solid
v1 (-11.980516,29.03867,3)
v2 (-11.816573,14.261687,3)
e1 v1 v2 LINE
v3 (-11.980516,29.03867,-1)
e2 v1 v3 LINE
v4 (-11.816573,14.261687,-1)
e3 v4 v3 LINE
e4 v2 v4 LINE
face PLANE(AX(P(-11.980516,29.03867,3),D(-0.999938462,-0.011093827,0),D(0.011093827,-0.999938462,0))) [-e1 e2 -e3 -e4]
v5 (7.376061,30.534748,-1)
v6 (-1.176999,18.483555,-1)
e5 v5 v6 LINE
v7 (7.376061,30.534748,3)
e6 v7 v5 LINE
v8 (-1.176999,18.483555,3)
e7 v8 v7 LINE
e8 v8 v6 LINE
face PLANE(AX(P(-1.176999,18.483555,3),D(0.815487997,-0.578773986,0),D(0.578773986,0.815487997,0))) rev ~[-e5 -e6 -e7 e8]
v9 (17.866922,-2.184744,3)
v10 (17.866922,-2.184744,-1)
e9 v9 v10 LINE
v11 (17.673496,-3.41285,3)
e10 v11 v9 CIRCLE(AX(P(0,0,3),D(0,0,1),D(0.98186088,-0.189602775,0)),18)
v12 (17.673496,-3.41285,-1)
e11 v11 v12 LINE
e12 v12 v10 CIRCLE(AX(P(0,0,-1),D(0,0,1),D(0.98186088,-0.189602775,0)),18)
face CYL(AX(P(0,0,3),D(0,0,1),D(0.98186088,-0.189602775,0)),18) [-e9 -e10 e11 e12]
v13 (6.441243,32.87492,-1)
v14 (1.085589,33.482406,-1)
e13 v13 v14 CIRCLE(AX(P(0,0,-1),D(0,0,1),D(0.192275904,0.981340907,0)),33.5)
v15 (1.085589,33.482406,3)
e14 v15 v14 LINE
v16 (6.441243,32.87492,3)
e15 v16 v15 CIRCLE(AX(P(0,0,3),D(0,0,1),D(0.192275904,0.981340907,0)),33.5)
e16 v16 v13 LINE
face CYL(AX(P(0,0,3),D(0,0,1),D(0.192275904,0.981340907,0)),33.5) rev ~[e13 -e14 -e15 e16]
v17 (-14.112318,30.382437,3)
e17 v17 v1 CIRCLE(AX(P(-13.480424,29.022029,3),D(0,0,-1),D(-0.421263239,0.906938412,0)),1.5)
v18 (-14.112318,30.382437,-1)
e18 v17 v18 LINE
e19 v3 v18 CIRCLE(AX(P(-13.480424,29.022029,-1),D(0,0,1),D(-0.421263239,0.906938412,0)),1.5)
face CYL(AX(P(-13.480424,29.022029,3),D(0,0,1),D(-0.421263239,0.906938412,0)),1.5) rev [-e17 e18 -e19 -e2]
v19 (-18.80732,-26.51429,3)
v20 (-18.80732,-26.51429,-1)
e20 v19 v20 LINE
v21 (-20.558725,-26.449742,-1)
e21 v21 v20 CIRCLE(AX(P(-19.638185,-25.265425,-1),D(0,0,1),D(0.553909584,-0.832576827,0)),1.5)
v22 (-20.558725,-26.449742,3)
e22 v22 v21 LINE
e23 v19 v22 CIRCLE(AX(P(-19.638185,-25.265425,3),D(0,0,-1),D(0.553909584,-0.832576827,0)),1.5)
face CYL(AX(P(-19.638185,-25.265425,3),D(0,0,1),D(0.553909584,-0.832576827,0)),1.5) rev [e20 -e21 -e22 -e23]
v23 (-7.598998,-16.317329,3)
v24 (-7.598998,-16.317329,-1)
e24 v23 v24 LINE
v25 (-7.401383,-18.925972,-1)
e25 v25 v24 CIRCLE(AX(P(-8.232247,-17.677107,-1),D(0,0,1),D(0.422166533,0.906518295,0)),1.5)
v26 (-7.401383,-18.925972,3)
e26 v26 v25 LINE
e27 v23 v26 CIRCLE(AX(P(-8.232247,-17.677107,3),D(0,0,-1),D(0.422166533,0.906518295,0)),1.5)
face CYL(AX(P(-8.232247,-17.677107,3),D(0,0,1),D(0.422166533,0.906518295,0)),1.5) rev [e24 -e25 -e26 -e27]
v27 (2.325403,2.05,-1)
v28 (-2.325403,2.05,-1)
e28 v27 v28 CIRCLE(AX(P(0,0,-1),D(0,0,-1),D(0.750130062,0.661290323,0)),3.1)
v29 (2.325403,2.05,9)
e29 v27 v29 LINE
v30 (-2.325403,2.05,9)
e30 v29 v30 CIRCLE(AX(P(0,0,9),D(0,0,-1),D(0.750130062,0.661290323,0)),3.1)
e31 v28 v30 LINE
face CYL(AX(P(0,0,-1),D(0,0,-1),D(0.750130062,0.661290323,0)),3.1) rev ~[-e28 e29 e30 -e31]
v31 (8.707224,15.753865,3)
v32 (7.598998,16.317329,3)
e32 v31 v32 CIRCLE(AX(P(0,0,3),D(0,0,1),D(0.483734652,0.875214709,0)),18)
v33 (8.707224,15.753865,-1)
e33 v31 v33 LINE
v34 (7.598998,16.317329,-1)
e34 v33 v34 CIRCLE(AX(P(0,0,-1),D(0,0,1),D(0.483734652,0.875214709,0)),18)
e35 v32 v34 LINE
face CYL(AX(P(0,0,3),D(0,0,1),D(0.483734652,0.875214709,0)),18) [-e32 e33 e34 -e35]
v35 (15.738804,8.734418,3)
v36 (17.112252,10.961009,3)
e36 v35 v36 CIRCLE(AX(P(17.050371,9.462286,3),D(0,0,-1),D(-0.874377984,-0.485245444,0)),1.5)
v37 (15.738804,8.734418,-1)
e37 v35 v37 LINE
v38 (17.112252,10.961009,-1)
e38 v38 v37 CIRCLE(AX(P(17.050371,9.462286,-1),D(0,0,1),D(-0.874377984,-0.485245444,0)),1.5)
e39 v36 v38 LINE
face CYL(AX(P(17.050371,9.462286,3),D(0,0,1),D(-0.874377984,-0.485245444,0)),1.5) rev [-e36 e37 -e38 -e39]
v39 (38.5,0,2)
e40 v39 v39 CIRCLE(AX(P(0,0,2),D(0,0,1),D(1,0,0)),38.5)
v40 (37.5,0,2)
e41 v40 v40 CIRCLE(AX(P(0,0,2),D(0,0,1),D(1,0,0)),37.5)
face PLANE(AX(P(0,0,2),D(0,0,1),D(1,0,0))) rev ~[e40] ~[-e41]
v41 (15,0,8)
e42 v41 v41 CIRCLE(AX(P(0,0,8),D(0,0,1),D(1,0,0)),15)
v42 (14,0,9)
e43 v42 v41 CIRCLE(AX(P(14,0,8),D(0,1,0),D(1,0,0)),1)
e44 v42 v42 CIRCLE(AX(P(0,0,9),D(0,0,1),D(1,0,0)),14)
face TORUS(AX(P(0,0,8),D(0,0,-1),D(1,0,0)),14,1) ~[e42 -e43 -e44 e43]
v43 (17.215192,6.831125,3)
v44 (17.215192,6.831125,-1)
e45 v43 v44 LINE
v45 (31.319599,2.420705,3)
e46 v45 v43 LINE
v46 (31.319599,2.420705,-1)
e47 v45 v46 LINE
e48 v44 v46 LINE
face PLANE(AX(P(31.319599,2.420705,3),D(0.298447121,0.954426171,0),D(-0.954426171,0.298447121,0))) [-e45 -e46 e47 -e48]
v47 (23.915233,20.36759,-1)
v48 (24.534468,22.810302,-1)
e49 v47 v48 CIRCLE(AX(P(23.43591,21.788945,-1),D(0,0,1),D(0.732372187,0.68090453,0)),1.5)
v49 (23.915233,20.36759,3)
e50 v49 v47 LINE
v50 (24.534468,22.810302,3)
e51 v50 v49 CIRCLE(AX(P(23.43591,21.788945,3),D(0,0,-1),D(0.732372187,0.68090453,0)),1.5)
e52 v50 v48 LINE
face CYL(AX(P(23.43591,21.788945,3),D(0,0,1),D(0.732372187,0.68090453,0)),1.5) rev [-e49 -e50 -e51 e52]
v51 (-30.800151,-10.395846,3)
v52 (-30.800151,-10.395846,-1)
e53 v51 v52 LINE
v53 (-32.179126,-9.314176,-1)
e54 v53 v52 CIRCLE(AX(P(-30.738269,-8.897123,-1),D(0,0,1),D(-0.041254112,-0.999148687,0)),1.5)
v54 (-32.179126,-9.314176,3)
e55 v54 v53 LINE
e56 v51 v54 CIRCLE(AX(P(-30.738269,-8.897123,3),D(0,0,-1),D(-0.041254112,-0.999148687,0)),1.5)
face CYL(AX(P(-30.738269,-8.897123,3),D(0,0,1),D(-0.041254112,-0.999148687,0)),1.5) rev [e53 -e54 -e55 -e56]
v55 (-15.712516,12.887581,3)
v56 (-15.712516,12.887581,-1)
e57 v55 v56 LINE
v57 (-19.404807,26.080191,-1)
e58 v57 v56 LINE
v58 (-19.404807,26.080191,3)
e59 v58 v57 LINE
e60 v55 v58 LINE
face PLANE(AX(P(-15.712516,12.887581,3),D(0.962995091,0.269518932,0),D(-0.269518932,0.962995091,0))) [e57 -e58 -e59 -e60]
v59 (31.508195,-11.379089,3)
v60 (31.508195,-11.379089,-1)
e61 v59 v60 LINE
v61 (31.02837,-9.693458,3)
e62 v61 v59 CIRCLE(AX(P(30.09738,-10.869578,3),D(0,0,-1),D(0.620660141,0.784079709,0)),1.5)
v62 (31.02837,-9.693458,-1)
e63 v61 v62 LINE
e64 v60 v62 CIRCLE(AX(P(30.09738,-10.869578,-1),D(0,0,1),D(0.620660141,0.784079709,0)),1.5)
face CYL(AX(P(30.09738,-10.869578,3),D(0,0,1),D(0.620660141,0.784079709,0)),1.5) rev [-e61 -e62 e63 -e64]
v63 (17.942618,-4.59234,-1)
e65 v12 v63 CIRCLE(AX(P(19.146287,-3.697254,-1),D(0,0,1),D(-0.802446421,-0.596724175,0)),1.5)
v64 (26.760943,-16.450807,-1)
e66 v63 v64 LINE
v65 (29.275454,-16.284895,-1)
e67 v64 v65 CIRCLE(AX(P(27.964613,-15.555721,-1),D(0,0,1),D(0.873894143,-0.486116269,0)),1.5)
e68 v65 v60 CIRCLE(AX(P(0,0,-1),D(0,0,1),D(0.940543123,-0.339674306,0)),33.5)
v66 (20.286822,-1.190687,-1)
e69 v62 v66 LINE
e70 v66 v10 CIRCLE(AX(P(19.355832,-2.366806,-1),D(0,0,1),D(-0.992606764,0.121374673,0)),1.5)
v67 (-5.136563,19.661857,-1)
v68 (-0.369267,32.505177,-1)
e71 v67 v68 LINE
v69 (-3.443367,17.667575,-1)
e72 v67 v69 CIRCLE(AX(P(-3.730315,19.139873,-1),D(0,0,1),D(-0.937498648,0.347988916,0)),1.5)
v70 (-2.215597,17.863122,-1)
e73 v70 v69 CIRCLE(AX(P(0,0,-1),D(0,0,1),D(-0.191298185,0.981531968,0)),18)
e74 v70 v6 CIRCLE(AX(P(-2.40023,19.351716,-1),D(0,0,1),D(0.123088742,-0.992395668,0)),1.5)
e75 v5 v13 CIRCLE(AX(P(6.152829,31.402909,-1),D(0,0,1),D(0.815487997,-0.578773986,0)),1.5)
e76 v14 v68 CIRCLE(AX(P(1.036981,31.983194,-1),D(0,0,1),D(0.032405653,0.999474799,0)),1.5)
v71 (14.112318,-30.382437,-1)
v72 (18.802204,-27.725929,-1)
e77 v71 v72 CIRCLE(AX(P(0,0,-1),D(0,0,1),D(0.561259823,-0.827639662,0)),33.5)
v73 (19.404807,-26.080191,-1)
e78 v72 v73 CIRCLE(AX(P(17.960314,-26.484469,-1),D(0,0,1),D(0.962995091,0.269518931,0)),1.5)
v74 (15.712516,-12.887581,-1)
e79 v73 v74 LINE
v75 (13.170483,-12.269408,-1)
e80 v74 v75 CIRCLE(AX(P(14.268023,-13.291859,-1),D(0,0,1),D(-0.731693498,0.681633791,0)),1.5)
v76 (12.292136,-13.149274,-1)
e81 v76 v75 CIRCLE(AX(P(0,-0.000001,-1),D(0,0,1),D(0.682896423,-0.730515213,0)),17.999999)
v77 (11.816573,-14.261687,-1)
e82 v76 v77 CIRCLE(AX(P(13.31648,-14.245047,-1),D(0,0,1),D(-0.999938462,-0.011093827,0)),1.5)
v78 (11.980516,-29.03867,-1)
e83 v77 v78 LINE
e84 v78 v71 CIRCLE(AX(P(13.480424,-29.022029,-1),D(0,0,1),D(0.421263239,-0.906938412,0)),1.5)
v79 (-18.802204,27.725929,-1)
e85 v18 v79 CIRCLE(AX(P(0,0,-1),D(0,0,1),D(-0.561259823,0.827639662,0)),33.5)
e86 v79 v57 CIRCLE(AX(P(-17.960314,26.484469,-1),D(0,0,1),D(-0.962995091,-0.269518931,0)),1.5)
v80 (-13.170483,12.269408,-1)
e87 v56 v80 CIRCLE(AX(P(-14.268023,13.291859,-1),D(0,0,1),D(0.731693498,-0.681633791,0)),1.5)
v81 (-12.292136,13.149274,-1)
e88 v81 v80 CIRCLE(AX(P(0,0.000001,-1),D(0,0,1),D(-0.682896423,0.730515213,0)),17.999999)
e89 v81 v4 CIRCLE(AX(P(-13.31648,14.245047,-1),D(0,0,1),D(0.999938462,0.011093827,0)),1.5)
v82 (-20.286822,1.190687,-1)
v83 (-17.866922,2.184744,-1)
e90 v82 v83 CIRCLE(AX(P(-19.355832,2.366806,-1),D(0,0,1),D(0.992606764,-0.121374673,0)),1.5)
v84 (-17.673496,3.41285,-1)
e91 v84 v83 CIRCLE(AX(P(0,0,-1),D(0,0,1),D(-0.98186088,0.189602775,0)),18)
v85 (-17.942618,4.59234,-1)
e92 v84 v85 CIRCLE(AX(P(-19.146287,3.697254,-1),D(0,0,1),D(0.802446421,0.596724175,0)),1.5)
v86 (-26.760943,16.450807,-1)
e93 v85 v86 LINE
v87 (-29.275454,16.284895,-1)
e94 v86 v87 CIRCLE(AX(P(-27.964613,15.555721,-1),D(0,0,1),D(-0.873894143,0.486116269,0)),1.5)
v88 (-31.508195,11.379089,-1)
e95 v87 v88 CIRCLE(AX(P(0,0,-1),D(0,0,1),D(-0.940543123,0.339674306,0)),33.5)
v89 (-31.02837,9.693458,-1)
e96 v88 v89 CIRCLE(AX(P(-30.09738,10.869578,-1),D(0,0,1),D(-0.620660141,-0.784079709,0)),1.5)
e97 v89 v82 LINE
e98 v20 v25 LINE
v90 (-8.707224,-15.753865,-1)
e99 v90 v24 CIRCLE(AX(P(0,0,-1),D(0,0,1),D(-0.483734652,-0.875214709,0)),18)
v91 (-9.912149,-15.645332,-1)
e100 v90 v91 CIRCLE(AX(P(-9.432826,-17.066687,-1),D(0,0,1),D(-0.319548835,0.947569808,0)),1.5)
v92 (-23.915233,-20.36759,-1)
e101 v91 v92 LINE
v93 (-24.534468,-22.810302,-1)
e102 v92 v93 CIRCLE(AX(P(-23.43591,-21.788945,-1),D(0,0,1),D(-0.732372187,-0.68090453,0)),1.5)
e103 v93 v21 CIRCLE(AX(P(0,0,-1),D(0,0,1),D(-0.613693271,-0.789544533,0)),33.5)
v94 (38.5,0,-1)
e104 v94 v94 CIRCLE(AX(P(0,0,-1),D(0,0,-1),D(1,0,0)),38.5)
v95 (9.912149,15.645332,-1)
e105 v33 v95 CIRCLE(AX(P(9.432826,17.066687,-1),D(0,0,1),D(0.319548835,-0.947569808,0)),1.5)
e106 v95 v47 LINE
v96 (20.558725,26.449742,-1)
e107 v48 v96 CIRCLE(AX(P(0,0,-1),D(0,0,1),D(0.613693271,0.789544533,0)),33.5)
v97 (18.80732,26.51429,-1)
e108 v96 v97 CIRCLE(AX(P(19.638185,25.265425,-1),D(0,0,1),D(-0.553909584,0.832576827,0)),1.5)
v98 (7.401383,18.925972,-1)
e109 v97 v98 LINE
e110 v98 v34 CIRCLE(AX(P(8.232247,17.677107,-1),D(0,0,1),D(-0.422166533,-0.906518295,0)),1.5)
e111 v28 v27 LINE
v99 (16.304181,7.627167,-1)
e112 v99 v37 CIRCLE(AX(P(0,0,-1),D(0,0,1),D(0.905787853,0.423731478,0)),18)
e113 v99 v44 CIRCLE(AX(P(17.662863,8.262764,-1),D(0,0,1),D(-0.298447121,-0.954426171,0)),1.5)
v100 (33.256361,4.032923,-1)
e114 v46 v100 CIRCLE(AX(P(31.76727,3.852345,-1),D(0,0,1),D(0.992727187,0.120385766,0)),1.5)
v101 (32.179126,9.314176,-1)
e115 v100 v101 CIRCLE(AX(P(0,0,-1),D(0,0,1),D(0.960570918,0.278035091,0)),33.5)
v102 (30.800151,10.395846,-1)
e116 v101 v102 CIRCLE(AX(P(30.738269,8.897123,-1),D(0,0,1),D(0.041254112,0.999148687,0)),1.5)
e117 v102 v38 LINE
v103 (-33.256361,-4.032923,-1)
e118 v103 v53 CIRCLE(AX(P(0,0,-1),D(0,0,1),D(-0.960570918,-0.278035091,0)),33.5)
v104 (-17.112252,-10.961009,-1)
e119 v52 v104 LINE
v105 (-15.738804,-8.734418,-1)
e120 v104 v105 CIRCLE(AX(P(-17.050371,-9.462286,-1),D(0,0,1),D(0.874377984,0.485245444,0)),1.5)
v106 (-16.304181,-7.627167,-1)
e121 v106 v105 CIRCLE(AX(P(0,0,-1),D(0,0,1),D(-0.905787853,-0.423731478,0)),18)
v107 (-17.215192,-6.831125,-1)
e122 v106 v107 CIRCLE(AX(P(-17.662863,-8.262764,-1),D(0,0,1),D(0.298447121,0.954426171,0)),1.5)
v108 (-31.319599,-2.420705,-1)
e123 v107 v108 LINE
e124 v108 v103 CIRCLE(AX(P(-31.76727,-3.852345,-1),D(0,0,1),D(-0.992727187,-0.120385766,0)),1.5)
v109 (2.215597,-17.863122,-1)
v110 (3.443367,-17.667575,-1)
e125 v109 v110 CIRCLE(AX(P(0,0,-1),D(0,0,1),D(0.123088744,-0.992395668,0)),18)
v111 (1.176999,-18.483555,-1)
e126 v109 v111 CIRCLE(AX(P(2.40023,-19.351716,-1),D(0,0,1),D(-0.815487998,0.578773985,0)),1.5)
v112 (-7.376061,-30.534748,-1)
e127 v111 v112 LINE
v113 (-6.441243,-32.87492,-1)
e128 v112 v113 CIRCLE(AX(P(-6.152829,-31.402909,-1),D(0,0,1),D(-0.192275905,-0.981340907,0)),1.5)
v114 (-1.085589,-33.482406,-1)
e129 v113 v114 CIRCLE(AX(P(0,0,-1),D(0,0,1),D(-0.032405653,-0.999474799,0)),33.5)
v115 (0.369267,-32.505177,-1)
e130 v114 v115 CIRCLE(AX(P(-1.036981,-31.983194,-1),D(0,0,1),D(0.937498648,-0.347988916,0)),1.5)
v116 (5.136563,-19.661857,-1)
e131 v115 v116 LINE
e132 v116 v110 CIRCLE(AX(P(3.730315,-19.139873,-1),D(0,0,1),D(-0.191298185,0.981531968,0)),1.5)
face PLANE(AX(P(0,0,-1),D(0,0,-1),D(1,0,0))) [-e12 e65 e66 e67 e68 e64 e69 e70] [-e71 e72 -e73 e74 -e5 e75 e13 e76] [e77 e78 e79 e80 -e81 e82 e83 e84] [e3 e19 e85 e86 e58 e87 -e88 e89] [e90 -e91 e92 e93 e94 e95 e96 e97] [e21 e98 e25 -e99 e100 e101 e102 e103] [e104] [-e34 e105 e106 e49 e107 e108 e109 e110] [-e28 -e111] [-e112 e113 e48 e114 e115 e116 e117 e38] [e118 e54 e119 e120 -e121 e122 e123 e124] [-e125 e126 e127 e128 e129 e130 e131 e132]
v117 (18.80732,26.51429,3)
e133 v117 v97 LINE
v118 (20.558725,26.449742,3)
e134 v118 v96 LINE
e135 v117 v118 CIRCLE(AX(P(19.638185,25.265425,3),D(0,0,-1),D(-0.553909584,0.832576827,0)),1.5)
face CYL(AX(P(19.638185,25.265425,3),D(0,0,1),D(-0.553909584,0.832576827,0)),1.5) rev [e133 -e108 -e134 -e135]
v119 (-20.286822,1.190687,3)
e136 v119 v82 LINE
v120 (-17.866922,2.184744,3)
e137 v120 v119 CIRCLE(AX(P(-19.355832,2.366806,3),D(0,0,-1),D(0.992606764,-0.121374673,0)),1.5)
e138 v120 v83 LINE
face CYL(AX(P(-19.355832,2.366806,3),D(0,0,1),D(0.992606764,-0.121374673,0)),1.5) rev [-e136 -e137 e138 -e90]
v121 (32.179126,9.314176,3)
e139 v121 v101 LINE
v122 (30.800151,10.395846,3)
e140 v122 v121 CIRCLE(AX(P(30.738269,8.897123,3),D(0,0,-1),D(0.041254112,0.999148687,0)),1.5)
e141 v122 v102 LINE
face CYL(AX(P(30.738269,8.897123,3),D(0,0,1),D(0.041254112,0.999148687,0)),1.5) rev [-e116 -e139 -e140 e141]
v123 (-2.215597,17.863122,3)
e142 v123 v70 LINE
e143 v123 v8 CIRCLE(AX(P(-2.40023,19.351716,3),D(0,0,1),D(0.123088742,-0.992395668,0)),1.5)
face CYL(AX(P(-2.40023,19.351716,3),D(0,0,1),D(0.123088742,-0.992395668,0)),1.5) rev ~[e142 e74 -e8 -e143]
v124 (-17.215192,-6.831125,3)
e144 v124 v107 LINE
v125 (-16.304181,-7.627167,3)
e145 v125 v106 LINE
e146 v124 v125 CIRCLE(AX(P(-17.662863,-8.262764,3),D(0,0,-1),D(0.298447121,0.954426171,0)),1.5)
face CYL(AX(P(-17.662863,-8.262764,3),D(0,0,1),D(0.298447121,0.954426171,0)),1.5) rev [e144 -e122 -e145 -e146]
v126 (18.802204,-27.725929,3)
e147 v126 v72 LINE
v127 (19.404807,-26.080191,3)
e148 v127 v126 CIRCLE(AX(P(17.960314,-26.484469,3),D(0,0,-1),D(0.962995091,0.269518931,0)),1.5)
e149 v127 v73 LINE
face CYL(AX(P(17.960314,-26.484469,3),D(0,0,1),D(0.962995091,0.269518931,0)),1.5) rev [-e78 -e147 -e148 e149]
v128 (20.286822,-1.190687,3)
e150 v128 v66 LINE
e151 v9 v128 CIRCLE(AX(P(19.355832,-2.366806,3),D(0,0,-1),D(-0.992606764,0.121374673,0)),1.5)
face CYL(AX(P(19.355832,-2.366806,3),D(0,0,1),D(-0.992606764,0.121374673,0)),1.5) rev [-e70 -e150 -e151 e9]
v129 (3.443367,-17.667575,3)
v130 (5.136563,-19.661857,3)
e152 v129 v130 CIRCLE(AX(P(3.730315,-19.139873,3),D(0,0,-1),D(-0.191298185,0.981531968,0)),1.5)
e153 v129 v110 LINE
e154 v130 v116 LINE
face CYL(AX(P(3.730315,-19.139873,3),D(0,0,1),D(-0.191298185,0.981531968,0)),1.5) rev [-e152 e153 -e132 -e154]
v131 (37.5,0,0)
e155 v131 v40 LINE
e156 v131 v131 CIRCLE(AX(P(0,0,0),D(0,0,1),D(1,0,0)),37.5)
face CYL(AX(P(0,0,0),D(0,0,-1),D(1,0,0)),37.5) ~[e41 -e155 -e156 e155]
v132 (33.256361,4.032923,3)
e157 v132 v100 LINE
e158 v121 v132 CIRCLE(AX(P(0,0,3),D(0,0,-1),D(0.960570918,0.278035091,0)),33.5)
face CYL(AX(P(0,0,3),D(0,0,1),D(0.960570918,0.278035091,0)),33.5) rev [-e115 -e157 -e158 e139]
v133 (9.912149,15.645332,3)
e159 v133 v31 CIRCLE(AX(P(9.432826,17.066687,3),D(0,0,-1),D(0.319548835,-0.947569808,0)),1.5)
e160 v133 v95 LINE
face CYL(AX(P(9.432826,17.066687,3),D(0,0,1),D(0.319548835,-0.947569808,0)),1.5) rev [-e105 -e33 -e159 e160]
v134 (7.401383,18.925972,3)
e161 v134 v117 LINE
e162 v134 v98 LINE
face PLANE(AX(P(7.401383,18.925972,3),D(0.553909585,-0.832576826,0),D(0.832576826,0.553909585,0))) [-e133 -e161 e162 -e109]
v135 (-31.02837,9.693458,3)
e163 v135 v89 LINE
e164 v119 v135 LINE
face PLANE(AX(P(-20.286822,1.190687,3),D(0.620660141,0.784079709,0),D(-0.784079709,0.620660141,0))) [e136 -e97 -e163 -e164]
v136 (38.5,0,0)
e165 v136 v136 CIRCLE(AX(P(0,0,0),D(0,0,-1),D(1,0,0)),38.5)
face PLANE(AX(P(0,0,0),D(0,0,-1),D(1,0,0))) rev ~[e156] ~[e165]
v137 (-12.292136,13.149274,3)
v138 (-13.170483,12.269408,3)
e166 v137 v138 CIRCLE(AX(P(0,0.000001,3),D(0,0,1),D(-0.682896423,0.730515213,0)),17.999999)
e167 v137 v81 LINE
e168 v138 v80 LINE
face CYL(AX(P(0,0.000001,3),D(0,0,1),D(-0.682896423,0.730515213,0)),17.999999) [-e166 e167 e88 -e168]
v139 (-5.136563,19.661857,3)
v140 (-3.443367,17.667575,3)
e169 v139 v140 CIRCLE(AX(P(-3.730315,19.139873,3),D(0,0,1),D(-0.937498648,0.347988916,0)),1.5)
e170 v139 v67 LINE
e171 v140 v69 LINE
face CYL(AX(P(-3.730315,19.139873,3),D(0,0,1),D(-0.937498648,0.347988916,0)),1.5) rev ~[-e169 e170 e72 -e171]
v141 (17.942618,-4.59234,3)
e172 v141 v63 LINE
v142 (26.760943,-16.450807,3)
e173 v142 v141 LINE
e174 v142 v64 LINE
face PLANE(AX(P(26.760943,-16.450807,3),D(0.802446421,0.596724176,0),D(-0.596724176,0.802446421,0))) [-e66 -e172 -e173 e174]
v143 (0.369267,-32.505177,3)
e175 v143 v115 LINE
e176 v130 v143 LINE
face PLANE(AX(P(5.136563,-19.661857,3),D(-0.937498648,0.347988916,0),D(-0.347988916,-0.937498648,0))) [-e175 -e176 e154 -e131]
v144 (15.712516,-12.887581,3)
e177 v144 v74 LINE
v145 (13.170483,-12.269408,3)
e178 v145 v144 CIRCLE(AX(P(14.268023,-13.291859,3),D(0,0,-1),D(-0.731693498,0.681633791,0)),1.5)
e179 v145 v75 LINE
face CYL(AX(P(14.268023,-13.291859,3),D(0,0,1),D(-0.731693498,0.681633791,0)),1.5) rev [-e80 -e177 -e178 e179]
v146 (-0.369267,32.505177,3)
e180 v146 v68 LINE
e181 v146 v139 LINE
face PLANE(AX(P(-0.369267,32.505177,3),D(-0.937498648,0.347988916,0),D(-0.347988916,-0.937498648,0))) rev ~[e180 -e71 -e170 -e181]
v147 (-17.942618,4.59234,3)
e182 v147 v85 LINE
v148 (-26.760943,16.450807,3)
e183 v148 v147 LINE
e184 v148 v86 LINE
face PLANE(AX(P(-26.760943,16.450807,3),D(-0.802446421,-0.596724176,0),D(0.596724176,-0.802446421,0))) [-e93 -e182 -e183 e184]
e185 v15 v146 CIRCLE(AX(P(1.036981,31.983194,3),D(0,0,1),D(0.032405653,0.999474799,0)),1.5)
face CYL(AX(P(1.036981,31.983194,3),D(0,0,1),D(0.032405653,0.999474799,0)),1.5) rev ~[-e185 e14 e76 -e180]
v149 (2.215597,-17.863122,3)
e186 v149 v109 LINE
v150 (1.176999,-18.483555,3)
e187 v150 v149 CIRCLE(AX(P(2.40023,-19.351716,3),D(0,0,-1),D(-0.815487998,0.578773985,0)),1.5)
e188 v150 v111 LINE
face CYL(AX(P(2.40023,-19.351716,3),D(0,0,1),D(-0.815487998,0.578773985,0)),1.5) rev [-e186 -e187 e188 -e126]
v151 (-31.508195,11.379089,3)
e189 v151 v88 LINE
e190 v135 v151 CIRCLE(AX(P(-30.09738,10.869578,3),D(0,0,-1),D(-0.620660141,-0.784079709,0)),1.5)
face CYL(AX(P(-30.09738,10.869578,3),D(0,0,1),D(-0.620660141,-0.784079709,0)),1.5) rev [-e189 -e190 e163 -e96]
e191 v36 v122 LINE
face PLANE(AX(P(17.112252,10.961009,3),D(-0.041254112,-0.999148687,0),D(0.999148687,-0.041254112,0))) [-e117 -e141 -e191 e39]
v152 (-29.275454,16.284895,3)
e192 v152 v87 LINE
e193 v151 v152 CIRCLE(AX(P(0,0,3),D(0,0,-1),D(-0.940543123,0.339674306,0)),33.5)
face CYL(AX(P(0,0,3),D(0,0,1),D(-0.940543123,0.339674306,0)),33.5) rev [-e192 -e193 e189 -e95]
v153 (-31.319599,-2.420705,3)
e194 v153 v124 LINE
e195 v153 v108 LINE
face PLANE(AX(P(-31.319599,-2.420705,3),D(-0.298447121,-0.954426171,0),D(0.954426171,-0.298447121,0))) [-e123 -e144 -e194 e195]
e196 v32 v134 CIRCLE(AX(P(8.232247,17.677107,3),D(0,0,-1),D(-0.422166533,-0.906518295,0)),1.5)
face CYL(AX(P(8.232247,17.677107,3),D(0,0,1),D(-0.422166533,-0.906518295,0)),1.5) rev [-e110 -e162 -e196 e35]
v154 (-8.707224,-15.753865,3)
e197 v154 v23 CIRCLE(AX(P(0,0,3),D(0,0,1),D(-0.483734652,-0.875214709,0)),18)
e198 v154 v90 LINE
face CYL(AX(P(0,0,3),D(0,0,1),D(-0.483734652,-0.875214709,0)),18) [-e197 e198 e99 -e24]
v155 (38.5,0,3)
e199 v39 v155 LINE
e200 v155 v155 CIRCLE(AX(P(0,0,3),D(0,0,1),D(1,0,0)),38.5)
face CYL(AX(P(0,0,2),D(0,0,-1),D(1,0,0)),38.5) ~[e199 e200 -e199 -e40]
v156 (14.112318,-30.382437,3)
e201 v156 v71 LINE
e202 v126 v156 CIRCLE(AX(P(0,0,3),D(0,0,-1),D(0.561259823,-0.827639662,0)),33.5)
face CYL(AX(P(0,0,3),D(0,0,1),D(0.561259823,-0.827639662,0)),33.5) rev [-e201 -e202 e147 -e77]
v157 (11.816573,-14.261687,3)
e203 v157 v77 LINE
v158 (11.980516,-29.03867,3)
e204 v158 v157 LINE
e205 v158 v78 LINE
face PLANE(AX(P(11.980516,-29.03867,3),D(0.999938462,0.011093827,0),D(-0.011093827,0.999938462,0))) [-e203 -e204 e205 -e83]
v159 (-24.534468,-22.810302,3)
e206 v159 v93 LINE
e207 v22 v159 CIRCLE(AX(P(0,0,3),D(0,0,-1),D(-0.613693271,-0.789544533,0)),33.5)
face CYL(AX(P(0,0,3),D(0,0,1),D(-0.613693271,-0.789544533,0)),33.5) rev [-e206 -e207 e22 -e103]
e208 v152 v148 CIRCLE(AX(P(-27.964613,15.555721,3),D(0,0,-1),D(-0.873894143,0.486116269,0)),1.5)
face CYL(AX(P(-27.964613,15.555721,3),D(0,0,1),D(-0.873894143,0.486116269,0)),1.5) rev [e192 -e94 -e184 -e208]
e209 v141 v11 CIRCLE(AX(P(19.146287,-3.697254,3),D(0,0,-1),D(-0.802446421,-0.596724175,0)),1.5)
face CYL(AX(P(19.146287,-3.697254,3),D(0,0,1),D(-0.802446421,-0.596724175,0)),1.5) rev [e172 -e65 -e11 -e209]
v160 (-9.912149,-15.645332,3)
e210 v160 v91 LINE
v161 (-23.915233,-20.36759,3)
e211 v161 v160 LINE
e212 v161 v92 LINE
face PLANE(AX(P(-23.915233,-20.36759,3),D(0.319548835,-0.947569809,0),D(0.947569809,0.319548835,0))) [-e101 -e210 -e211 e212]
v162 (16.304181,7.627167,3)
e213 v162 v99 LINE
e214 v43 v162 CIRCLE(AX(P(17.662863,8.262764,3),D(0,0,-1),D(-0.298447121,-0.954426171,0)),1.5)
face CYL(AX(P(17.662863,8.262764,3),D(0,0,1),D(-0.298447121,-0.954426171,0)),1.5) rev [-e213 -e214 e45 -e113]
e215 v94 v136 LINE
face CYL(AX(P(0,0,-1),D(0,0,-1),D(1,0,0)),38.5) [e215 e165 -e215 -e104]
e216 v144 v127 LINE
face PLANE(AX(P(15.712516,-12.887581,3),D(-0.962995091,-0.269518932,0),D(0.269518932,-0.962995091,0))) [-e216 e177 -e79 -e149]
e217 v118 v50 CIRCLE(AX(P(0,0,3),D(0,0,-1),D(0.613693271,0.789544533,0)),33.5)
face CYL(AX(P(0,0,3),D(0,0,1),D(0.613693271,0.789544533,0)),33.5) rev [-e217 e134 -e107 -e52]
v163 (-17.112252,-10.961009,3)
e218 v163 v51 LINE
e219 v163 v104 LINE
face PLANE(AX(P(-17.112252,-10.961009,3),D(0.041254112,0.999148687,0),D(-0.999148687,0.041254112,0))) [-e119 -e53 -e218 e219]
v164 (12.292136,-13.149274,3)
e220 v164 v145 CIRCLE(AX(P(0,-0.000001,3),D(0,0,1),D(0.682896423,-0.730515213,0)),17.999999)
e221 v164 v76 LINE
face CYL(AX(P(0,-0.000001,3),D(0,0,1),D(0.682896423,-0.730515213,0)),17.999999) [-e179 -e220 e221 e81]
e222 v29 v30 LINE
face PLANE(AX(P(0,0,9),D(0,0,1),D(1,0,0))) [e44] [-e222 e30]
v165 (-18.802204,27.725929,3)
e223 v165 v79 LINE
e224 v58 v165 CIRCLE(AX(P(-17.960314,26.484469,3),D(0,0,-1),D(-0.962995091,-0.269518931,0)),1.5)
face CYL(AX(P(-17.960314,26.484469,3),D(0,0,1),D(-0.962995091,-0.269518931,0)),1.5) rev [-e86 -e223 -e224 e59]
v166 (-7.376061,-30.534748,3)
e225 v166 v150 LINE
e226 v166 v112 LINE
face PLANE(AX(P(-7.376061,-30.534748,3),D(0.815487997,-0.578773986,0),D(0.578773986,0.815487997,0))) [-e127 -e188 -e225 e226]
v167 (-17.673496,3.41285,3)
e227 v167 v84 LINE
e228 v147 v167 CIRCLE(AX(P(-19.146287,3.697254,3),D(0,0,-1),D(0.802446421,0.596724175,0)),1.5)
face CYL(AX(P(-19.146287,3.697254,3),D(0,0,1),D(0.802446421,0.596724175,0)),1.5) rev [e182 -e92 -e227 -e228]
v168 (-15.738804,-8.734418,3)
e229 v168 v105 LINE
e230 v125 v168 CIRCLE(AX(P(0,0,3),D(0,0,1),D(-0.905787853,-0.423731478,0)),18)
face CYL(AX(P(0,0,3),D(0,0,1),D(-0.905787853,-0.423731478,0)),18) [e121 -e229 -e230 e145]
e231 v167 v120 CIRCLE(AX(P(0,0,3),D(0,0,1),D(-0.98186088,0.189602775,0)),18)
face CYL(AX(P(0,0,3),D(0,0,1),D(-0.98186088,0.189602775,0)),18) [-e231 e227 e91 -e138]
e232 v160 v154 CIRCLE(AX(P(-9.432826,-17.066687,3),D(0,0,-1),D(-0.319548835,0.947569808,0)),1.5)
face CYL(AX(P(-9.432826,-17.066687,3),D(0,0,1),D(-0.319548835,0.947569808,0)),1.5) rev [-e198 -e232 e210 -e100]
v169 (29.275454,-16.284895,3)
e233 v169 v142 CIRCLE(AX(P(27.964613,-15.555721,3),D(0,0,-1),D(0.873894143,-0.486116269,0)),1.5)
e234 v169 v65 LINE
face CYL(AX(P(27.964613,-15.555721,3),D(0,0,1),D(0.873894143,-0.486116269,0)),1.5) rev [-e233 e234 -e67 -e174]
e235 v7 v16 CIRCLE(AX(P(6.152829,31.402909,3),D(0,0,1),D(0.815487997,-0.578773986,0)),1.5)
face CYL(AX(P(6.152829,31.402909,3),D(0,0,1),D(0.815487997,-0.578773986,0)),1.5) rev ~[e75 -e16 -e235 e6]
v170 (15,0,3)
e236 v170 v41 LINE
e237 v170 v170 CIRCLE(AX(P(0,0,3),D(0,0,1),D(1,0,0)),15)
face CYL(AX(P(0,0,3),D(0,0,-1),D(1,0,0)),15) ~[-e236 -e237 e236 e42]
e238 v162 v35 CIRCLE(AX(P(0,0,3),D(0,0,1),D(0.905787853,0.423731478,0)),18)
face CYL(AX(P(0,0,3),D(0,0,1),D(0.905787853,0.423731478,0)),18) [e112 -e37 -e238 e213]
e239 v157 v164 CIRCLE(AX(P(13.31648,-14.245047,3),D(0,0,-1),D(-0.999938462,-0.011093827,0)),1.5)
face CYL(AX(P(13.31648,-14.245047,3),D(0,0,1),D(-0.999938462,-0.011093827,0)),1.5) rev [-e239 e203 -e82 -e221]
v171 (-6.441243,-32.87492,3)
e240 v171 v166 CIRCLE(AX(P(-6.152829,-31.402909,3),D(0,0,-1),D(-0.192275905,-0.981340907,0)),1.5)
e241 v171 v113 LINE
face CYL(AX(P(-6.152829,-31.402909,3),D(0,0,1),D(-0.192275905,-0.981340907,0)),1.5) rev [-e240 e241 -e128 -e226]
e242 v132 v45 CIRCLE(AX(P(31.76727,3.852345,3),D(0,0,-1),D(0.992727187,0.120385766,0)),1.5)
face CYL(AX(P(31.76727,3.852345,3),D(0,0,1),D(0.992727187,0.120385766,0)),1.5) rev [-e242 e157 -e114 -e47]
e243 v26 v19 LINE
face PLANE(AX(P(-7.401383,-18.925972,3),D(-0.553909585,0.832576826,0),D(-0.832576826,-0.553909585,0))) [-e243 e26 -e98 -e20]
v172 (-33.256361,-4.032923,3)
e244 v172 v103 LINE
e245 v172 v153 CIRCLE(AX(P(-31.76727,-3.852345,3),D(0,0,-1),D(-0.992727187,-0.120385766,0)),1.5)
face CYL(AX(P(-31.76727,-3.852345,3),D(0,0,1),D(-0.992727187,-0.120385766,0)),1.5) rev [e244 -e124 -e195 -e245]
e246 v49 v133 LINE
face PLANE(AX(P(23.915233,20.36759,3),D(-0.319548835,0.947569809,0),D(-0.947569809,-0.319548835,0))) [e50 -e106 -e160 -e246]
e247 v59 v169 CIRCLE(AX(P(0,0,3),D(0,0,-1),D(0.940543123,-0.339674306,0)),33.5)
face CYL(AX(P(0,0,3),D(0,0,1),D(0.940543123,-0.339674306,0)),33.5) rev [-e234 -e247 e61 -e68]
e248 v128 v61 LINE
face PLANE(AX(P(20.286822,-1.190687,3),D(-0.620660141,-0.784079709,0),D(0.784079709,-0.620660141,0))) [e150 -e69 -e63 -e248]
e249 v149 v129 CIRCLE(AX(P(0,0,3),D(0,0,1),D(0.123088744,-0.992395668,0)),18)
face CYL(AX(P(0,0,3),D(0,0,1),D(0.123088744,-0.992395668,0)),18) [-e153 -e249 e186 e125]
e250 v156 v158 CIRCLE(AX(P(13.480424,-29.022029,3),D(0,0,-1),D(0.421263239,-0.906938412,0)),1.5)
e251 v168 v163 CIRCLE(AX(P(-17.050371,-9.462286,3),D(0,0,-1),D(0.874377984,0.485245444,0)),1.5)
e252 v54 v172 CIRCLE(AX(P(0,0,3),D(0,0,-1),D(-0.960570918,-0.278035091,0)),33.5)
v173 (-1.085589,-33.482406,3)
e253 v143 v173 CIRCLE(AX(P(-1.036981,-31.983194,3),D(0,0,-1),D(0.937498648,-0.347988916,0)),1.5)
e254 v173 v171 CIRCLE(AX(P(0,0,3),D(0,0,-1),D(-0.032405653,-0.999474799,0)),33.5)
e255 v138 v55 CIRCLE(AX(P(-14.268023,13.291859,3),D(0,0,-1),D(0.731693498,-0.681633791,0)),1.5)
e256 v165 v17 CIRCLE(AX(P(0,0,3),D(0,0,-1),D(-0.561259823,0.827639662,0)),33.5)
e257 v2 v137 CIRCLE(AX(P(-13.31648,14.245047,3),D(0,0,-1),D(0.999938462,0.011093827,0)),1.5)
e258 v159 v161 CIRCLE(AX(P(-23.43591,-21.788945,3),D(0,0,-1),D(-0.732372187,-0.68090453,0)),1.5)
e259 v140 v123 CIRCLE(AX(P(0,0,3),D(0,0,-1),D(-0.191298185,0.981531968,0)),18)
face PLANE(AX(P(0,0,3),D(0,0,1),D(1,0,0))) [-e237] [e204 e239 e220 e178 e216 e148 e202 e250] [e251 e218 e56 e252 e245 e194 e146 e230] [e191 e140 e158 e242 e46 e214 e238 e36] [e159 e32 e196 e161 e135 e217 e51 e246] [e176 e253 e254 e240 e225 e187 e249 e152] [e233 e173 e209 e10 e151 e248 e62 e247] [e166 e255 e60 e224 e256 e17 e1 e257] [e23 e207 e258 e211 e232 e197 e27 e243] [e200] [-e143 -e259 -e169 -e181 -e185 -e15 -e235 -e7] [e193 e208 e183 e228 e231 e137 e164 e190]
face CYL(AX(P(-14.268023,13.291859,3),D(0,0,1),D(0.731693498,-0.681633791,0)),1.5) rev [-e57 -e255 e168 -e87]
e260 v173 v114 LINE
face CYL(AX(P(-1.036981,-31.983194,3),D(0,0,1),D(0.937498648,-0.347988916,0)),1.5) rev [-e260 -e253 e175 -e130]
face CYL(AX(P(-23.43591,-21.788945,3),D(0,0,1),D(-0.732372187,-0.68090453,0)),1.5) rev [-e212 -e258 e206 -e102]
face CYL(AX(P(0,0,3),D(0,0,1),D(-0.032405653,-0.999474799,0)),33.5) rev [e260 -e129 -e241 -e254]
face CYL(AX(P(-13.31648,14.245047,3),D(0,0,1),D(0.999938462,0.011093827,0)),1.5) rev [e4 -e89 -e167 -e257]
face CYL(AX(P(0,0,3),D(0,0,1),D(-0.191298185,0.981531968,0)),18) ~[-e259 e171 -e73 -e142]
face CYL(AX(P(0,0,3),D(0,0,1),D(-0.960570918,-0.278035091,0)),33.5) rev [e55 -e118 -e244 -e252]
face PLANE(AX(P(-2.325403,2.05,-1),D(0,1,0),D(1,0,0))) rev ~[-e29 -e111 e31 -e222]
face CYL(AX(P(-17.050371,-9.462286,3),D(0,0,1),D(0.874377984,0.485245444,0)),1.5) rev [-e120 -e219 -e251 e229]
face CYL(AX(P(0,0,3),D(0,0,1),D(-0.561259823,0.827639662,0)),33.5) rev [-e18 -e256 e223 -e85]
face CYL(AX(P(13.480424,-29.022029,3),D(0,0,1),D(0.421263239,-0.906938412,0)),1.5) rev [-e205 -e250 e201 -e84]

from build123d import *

# Parameters (mm, degrees)
SKETCH_1_R          = 37.5
EXTRUDE_2_DEPTH     = 2
SKETCH_2_R          = 38.5
EXTRUDE_3_DEPTH     = 1
EXTRUDE_START       = 1
SKETCH_3_R          = 38.5
EXTRUDE_4_DEPTH     = 1
SKETCH_6_R          = 15
EXTRUDE_6_DEPTH     = 6
CUT_EXTRUDE_4_DEPTH = 56.357926262
CUT_EXTRUDE_5_DEPTH = 55.776819915
FILLET_1_R          = 1


with BuildPart() as part:
    # Эскиз1 → Бобышка-Вытянуть2 (new body)
    with BuildSketch(Plane.XY):
        Circle(SKETCH_1_R)
    extrude(amount=EXTRUDE_2_DEPTH)

    # Эскиз2 → Бобышка-Вытянуть3 (add)
    with BuildSketch(Plane.XY.offset(2)):
        Circle(SKETCH_2_R)
    extrude(amount=EXTRUDE_3_DEPTH)

    # Эскиз3 → Бобышка-Вытянуть4 (add)
    with BuildSketch(Plane(origin=(0, 0, 0), x_dir=(-1, 0, 0), z_dir=(0, 0, -1)).offset(EXTRUDE_START)):
        with Locations(Location((0, 0, 0), (0, 0, 180))):
            Circle(SKETCH_3_R)
    extrude(amount=-EXTRUDE_4_DEPTH)

    # Эскиз6 → Бобышка-Вытянуть6 (add)
    with BuildSketch(Plane.XY.offset(3)):
        Circle(SKETCH_6_R)
    extrude(amount=EXTRUDE_6_DEPTH)

    # Эскиз4 → Вырез-Вытянуть4 (cut, through all)
    with BuildSketch(Plane(origin=(0, 0, -1), x_dir=(-1, 0, 0), z_dir=(0, 0, -1))):
        with BuildLine():
            Line((2.325403191, 2.05), (-2.325403191, 2.05))
            ThreePointArc((-2.325403191, 2.05), (0, -3.1), (2.325403191, 2.05))
        make_face()
    extrude(amount=-CUT_EXTRUDE_4_DEPTH, mode=Mode.SUBTRACT)

    # Эскиз7 → Вырез-Вытянуть5 (cut, through all)
    with BuildSketch(Plane.XY.offset(3)):
        with BuildLine():
            Line((-1.176998505, 18.48355454), (7.376060937, 30.534748058))
            ThreePointArc((7.376060937, 30.534748058), (7.545800564, 31.959353158), (6.441242798, 32.874920399))
            ThreePointArc((6.441242798, 32.874920399), (3.775653612, 33.286550434), (1.085589359, 33.482405764))
            ThreePointArc((1.085589359, 33.482405764), (0.200595627, 33.228368135), (-0.369267091, 32.50517694))
            Line((-0.369267091, 32.50517694), (-5.136562579, 19.661856752))
            ThreePointArc((-5.136562579, 19.661856752), (-4.873773401, 18.169047963), (-3.44336733, 17.667575426))
            ThreePointArc((-3.44336733, 17.667575426), (-2.831171141, 17.775952013), (-2.215597384, 17.863122018))
            ThreePointArc((-2.215597384, 17.863122018), (-1.630974254, 18.063986965), (-1.176998505, 18.48355454))
        make_face()
        with BuildLine():
            Line((7.401383013, 18.925971985), (18.807320276, 26.5142903))
            ThreePointArc((18.807320276, 26.5142903), (19.693430019, 26.764407365), (20.55872456, 26.44974186))
            ThreePointArc((20.55872456, 26.44974186), (22.619911382, 24.710111474), (24.534468269, 22.810301768))
            ThreePointArc((24.534468269, 22.810301768), (24.889917351, 21.420349546), (23.91523324, 20.367590259))
            Line((23.91523324, 20.367590259), (9.912148976, 15.645332103))
            ThreePointArc((9.912148976, 15.645332103), (9.298259247, 15.572735055), (8.707223745, 15.753864753))
            ThreePointArc((8.707223745, 15.753864753), (8.157976872, 16.045167913), (7.598997591, 16.317329304))
            ThreePointArc((7.598997591, 16.317329304), (6.736532932, 17.563800702), (7.401383013, 18.925971985))
        make_face()
        with BuildLine():
            Line((17.112251857, 10.961009189), (30.800150535, 10.395845953))
            ThreePointArc((30.800150535, 10.395845953), (31.664043498, 10.077352671), (32.179125744, 9.31417556))
            ThreePointArc((32.179125744, 9.31417556), (32.824131826, 6.695249797), (33.256360757, 4.032923156))
            ThreePointArc((33.256360757, 4.032923156), (32.726931688, 2.699500458), (31.319599295, 2.42070525))
            Line((31.319599295, 2.42070525), (17.21519245, 6.831124567))
            ThreePointArc((17.21519245, 6.831124567), (16.675873752, 7.133227651), (16.304181352, 7.627166606))
            ThreePointArc((16.304181352, 7.627166606), (16.031054999, 8.185675025), (15.738803713, 8.734417993))
            ThreePointArc((15.738803713, 8.734417993), (15.773712652, 10.249778544), (17.112251857, 10.961009189))
        make_face()
        with BuildLine():
            Line((20.286822116, -1.190686565), (31.028370149, -9.693458206))
            ThreePointArc((31.028370149, -9.693458206), (31.540068583, -10.458908227), (31.508194622, -11.379089228))
            ThreePointArc((31.508194622, -11.379089228), (30.490649564, -13.876969739), (29.275453778, -16.284895028))
            ThreePointArc((29.275453778, -16.284895028), (28.063370467, -17.052466052), (26.760942933, -16.450806887))
            Line((26.760942933, -16.450806887), (17.94261753, -4.592340372))
            ThreePointArc((17.94261753, -4.592340372), (17.683871276, -4.030930266), (17.673495841, -3.412849946))
            ThreePointArc((17.673495841, -3.412849946), (17.780814992, -2.800467501), (17.866921759, -2.184744119))
            ThreePointArc((17.866921759, -2.184744119), (18.785870268, -0.97931064), (20.286822116, -1.190686565))
        make_face()
        with BuildLine():
            Line((15.712515851, -12.887580522), (19.404806981, -26.080190799))
            ThreePointArc((19.404806981, -26.080190799), (19.368859476, -27.000221668), (18.802204079, -27.725928691))
            ThreePointArc((18.802204079, -27.725928691), (16.510775508, -29.148658496), (14.112318492, -30.382436814))
            ThreePointArc((14.112318492, -30.382436814), (12.680555566, -30.290970122), (11.980515942, -29.038669937))
            Line((11.980515942, -29.038669937), (11.816572561, -14.261687377))
            ThreePointArc((11.816572561, -14.261687377), (11.937231025, -13.655409828), (12.292135619, -13.149273818))
            ThreePointArc((12.292135619, -13.149273818), (12.738908006, -12.716926627), (13.170482967, -12.269408234))
            ThreePointArc((13.170482967, -12.269408234), (14.622463949, -11.834336445), (15.712515851, -12.887580522))
        make_face()
        with BuildLine():
            Line((5.136562579, -19.661856752), (0.369267091, -32.50517694))
            ThreePointArc((0.369267091, -32.50517694), (-0.200595627, -33.228368135), (-1.085589359, -33.482405764))
            ThreePointArc((-1.085589359, -33.482405764), (-3.775653612, -33.286550434), (-6.441242798, -32.874920399))
            ThreePointArc((-6.441242798, -32.874920399), (-7.545800564, -31.959353158), (-7.376060937, -30.534748058))
            Line((-7.376060937, -30.534748058), (1.176998505, -18.48355454))
            ThreePointArc((1.176998505, -18.48355454), (1.630974254, -18.063986965), (2.215597384, -17.863122018))
            ThreePointArc((2.215597384, -17.863122018), (2.831171141, -17.775952013), (3.44336733, -17.667575426))
            ThreePointArc((3.44336733, -17.667575426), (4.873773401, -18.169047963), (5.136562579, -19.661856752))
        make_face()
        with BuildLine():
            Line((-7.401383013, -18.925971985), (-18.807320276, -26.5142903))
            ThreePointArc((-18.807320276, -26.5142903), (-19.693430019, -26.764407365), (-20.55872456, -26.44974186))
            ThreePointArc((-20.55872456, -26.44974186), (-22.619911382, -24.710111474), (-24.534468269, -22.810301768))
            ThreePointArc((-24.534468269, -22.810301768), (-24.889917351, -21.420349546), (-23.91523324, -20.367590259))
            Line((-23.91523324, -20.367590259), (-9.912148976, -15.645332103))
            ThreePointArc((-9.912148976, -15.645332103), (-9.298259247, -15.572735055), (-8.707223745, -15.753864753))
            ThreePointArc((-8.707223745, -15.753864753), (-8.157976872, -16.045167913), (-7.598997591, -16.317329304))
            ThreePointArc((-7.598997591, -16.317329304), (-6.736532932, -17.563800702), (-7.401383013, -18.925971985))
        make_face()
        with BuildLine():
            Line((-17.112251857, -10.961009189), (-30.800150535, -10.395845953))
            ThreePointArc((-30.800150535, -10.395845953), (-31.664043498, -10.077352671), (-32.179125744, -9.31417556))
            ThreePointArc((-32.179125744, -9.31417556), (-32.824131826, -6.695249797), (-33.256360757, -4.032923156))
            ThreePointArc((-33.256360757, -4.032923156), (-32.726931688, -2.699500458), (-31.319599295, -2.42070525))
            Line((-31.319599295, -2.42070525), (-17.21519245, -6.831124567))
            ThreePointArc((-17.21519245, -6.831124567), (-16.675873752, -7.133227651), (-16.304181352, -7.627166606))
            ThreePointArc((-16.304181352, -7.627166606), (-16.031054999, -8.185675025), (-15.738803713, -8.734417993))
            ThreePointArc((-15.738803713, -8.734417993), (-15.773712652, -10.249778544), (-17.112251857, -10.961009189))
        make_face()
        with BuildLine():
            Line((-20.286822116, 1.190686565), (-31.028370149, 9.693458206))
            ThreePointArc((-31.028370149, 9.693458206), (-31.540068583, 10.458908227), (-31.508194622, 11.379089228))
            ThreePointArc((-31.508194622, 11.379089228), (-30.490649564, 13.876969739), (-29.275453778, 16.284895028))
            ThreePointArc((-29.275453778, 16.284895028), (-28.063370467, 17.052466052), (-26.760942933, 16.450806887))
            Line((-26.760942933, 16.450806887), (-17.94261753, 4.592340372))
            ThreePointArc((-17.94261753, 4.592340372), (-17.683871276, 4.030930266), (-17.673495841, 3.412849946))
            ThreePointArc((-17.673495841, 3.412849946), (-17.780814992, 2.800467501), (-17.866921759, 2.184744119))
            ThreePointArc((-17.866921759, 2.184744119), (-18.785870268, 0.97931064), (-20.286822116, 1.190686565))
        make_face()
        with BuildLine():
            Line((-15.712515851, 12.887580522), (-19.404806981, 26.080190799))
            ThreePointArc((-19.404806981, 26.080190799), (-19.368859476, 27.000221668), (-18.802204079, 27.725928691))
            ThreePointArc((-18.802204079, 27.725928691), (-16.510775508, 29.148658496), (-14.112318492, 30.382436814))
            ThreePointArc((-14.112318492, 30.382436814), (-12.680555566, 30.290970122), (-11.980515942, 29.038669937))
            Line((-11.980515942, 29.038669937), (-11.816572561, 14.261687377))
            ThreePointArc((-11.816572561, 14.261687377), (-11.937231025, 13.655409828), (-12.292135619, 13.149273818))
            ThreePointArc((-12.292135619, 13.149273818), (-12.738908006, 12.716926627), (-13.170482967, 12.269408234))
            ThreePointArc((-13.170482967, 12.269408234), (-14.622463949, 11.834336445), (-15.712515851, 12.887580522))
        make_face()
    extrude(amount=-CUT_EXTRUDE_5_DEPTH, mode=Mode.SUBTRACT)

    # Скругление1
    fillet_1_edges = [part.edges().sort_by_distance(p)[0] for p in [
        (-15, 0, 9),
    ]]
    fillet(fillet_1_edges, radius=FILLET_1_R)


solid = part.part
